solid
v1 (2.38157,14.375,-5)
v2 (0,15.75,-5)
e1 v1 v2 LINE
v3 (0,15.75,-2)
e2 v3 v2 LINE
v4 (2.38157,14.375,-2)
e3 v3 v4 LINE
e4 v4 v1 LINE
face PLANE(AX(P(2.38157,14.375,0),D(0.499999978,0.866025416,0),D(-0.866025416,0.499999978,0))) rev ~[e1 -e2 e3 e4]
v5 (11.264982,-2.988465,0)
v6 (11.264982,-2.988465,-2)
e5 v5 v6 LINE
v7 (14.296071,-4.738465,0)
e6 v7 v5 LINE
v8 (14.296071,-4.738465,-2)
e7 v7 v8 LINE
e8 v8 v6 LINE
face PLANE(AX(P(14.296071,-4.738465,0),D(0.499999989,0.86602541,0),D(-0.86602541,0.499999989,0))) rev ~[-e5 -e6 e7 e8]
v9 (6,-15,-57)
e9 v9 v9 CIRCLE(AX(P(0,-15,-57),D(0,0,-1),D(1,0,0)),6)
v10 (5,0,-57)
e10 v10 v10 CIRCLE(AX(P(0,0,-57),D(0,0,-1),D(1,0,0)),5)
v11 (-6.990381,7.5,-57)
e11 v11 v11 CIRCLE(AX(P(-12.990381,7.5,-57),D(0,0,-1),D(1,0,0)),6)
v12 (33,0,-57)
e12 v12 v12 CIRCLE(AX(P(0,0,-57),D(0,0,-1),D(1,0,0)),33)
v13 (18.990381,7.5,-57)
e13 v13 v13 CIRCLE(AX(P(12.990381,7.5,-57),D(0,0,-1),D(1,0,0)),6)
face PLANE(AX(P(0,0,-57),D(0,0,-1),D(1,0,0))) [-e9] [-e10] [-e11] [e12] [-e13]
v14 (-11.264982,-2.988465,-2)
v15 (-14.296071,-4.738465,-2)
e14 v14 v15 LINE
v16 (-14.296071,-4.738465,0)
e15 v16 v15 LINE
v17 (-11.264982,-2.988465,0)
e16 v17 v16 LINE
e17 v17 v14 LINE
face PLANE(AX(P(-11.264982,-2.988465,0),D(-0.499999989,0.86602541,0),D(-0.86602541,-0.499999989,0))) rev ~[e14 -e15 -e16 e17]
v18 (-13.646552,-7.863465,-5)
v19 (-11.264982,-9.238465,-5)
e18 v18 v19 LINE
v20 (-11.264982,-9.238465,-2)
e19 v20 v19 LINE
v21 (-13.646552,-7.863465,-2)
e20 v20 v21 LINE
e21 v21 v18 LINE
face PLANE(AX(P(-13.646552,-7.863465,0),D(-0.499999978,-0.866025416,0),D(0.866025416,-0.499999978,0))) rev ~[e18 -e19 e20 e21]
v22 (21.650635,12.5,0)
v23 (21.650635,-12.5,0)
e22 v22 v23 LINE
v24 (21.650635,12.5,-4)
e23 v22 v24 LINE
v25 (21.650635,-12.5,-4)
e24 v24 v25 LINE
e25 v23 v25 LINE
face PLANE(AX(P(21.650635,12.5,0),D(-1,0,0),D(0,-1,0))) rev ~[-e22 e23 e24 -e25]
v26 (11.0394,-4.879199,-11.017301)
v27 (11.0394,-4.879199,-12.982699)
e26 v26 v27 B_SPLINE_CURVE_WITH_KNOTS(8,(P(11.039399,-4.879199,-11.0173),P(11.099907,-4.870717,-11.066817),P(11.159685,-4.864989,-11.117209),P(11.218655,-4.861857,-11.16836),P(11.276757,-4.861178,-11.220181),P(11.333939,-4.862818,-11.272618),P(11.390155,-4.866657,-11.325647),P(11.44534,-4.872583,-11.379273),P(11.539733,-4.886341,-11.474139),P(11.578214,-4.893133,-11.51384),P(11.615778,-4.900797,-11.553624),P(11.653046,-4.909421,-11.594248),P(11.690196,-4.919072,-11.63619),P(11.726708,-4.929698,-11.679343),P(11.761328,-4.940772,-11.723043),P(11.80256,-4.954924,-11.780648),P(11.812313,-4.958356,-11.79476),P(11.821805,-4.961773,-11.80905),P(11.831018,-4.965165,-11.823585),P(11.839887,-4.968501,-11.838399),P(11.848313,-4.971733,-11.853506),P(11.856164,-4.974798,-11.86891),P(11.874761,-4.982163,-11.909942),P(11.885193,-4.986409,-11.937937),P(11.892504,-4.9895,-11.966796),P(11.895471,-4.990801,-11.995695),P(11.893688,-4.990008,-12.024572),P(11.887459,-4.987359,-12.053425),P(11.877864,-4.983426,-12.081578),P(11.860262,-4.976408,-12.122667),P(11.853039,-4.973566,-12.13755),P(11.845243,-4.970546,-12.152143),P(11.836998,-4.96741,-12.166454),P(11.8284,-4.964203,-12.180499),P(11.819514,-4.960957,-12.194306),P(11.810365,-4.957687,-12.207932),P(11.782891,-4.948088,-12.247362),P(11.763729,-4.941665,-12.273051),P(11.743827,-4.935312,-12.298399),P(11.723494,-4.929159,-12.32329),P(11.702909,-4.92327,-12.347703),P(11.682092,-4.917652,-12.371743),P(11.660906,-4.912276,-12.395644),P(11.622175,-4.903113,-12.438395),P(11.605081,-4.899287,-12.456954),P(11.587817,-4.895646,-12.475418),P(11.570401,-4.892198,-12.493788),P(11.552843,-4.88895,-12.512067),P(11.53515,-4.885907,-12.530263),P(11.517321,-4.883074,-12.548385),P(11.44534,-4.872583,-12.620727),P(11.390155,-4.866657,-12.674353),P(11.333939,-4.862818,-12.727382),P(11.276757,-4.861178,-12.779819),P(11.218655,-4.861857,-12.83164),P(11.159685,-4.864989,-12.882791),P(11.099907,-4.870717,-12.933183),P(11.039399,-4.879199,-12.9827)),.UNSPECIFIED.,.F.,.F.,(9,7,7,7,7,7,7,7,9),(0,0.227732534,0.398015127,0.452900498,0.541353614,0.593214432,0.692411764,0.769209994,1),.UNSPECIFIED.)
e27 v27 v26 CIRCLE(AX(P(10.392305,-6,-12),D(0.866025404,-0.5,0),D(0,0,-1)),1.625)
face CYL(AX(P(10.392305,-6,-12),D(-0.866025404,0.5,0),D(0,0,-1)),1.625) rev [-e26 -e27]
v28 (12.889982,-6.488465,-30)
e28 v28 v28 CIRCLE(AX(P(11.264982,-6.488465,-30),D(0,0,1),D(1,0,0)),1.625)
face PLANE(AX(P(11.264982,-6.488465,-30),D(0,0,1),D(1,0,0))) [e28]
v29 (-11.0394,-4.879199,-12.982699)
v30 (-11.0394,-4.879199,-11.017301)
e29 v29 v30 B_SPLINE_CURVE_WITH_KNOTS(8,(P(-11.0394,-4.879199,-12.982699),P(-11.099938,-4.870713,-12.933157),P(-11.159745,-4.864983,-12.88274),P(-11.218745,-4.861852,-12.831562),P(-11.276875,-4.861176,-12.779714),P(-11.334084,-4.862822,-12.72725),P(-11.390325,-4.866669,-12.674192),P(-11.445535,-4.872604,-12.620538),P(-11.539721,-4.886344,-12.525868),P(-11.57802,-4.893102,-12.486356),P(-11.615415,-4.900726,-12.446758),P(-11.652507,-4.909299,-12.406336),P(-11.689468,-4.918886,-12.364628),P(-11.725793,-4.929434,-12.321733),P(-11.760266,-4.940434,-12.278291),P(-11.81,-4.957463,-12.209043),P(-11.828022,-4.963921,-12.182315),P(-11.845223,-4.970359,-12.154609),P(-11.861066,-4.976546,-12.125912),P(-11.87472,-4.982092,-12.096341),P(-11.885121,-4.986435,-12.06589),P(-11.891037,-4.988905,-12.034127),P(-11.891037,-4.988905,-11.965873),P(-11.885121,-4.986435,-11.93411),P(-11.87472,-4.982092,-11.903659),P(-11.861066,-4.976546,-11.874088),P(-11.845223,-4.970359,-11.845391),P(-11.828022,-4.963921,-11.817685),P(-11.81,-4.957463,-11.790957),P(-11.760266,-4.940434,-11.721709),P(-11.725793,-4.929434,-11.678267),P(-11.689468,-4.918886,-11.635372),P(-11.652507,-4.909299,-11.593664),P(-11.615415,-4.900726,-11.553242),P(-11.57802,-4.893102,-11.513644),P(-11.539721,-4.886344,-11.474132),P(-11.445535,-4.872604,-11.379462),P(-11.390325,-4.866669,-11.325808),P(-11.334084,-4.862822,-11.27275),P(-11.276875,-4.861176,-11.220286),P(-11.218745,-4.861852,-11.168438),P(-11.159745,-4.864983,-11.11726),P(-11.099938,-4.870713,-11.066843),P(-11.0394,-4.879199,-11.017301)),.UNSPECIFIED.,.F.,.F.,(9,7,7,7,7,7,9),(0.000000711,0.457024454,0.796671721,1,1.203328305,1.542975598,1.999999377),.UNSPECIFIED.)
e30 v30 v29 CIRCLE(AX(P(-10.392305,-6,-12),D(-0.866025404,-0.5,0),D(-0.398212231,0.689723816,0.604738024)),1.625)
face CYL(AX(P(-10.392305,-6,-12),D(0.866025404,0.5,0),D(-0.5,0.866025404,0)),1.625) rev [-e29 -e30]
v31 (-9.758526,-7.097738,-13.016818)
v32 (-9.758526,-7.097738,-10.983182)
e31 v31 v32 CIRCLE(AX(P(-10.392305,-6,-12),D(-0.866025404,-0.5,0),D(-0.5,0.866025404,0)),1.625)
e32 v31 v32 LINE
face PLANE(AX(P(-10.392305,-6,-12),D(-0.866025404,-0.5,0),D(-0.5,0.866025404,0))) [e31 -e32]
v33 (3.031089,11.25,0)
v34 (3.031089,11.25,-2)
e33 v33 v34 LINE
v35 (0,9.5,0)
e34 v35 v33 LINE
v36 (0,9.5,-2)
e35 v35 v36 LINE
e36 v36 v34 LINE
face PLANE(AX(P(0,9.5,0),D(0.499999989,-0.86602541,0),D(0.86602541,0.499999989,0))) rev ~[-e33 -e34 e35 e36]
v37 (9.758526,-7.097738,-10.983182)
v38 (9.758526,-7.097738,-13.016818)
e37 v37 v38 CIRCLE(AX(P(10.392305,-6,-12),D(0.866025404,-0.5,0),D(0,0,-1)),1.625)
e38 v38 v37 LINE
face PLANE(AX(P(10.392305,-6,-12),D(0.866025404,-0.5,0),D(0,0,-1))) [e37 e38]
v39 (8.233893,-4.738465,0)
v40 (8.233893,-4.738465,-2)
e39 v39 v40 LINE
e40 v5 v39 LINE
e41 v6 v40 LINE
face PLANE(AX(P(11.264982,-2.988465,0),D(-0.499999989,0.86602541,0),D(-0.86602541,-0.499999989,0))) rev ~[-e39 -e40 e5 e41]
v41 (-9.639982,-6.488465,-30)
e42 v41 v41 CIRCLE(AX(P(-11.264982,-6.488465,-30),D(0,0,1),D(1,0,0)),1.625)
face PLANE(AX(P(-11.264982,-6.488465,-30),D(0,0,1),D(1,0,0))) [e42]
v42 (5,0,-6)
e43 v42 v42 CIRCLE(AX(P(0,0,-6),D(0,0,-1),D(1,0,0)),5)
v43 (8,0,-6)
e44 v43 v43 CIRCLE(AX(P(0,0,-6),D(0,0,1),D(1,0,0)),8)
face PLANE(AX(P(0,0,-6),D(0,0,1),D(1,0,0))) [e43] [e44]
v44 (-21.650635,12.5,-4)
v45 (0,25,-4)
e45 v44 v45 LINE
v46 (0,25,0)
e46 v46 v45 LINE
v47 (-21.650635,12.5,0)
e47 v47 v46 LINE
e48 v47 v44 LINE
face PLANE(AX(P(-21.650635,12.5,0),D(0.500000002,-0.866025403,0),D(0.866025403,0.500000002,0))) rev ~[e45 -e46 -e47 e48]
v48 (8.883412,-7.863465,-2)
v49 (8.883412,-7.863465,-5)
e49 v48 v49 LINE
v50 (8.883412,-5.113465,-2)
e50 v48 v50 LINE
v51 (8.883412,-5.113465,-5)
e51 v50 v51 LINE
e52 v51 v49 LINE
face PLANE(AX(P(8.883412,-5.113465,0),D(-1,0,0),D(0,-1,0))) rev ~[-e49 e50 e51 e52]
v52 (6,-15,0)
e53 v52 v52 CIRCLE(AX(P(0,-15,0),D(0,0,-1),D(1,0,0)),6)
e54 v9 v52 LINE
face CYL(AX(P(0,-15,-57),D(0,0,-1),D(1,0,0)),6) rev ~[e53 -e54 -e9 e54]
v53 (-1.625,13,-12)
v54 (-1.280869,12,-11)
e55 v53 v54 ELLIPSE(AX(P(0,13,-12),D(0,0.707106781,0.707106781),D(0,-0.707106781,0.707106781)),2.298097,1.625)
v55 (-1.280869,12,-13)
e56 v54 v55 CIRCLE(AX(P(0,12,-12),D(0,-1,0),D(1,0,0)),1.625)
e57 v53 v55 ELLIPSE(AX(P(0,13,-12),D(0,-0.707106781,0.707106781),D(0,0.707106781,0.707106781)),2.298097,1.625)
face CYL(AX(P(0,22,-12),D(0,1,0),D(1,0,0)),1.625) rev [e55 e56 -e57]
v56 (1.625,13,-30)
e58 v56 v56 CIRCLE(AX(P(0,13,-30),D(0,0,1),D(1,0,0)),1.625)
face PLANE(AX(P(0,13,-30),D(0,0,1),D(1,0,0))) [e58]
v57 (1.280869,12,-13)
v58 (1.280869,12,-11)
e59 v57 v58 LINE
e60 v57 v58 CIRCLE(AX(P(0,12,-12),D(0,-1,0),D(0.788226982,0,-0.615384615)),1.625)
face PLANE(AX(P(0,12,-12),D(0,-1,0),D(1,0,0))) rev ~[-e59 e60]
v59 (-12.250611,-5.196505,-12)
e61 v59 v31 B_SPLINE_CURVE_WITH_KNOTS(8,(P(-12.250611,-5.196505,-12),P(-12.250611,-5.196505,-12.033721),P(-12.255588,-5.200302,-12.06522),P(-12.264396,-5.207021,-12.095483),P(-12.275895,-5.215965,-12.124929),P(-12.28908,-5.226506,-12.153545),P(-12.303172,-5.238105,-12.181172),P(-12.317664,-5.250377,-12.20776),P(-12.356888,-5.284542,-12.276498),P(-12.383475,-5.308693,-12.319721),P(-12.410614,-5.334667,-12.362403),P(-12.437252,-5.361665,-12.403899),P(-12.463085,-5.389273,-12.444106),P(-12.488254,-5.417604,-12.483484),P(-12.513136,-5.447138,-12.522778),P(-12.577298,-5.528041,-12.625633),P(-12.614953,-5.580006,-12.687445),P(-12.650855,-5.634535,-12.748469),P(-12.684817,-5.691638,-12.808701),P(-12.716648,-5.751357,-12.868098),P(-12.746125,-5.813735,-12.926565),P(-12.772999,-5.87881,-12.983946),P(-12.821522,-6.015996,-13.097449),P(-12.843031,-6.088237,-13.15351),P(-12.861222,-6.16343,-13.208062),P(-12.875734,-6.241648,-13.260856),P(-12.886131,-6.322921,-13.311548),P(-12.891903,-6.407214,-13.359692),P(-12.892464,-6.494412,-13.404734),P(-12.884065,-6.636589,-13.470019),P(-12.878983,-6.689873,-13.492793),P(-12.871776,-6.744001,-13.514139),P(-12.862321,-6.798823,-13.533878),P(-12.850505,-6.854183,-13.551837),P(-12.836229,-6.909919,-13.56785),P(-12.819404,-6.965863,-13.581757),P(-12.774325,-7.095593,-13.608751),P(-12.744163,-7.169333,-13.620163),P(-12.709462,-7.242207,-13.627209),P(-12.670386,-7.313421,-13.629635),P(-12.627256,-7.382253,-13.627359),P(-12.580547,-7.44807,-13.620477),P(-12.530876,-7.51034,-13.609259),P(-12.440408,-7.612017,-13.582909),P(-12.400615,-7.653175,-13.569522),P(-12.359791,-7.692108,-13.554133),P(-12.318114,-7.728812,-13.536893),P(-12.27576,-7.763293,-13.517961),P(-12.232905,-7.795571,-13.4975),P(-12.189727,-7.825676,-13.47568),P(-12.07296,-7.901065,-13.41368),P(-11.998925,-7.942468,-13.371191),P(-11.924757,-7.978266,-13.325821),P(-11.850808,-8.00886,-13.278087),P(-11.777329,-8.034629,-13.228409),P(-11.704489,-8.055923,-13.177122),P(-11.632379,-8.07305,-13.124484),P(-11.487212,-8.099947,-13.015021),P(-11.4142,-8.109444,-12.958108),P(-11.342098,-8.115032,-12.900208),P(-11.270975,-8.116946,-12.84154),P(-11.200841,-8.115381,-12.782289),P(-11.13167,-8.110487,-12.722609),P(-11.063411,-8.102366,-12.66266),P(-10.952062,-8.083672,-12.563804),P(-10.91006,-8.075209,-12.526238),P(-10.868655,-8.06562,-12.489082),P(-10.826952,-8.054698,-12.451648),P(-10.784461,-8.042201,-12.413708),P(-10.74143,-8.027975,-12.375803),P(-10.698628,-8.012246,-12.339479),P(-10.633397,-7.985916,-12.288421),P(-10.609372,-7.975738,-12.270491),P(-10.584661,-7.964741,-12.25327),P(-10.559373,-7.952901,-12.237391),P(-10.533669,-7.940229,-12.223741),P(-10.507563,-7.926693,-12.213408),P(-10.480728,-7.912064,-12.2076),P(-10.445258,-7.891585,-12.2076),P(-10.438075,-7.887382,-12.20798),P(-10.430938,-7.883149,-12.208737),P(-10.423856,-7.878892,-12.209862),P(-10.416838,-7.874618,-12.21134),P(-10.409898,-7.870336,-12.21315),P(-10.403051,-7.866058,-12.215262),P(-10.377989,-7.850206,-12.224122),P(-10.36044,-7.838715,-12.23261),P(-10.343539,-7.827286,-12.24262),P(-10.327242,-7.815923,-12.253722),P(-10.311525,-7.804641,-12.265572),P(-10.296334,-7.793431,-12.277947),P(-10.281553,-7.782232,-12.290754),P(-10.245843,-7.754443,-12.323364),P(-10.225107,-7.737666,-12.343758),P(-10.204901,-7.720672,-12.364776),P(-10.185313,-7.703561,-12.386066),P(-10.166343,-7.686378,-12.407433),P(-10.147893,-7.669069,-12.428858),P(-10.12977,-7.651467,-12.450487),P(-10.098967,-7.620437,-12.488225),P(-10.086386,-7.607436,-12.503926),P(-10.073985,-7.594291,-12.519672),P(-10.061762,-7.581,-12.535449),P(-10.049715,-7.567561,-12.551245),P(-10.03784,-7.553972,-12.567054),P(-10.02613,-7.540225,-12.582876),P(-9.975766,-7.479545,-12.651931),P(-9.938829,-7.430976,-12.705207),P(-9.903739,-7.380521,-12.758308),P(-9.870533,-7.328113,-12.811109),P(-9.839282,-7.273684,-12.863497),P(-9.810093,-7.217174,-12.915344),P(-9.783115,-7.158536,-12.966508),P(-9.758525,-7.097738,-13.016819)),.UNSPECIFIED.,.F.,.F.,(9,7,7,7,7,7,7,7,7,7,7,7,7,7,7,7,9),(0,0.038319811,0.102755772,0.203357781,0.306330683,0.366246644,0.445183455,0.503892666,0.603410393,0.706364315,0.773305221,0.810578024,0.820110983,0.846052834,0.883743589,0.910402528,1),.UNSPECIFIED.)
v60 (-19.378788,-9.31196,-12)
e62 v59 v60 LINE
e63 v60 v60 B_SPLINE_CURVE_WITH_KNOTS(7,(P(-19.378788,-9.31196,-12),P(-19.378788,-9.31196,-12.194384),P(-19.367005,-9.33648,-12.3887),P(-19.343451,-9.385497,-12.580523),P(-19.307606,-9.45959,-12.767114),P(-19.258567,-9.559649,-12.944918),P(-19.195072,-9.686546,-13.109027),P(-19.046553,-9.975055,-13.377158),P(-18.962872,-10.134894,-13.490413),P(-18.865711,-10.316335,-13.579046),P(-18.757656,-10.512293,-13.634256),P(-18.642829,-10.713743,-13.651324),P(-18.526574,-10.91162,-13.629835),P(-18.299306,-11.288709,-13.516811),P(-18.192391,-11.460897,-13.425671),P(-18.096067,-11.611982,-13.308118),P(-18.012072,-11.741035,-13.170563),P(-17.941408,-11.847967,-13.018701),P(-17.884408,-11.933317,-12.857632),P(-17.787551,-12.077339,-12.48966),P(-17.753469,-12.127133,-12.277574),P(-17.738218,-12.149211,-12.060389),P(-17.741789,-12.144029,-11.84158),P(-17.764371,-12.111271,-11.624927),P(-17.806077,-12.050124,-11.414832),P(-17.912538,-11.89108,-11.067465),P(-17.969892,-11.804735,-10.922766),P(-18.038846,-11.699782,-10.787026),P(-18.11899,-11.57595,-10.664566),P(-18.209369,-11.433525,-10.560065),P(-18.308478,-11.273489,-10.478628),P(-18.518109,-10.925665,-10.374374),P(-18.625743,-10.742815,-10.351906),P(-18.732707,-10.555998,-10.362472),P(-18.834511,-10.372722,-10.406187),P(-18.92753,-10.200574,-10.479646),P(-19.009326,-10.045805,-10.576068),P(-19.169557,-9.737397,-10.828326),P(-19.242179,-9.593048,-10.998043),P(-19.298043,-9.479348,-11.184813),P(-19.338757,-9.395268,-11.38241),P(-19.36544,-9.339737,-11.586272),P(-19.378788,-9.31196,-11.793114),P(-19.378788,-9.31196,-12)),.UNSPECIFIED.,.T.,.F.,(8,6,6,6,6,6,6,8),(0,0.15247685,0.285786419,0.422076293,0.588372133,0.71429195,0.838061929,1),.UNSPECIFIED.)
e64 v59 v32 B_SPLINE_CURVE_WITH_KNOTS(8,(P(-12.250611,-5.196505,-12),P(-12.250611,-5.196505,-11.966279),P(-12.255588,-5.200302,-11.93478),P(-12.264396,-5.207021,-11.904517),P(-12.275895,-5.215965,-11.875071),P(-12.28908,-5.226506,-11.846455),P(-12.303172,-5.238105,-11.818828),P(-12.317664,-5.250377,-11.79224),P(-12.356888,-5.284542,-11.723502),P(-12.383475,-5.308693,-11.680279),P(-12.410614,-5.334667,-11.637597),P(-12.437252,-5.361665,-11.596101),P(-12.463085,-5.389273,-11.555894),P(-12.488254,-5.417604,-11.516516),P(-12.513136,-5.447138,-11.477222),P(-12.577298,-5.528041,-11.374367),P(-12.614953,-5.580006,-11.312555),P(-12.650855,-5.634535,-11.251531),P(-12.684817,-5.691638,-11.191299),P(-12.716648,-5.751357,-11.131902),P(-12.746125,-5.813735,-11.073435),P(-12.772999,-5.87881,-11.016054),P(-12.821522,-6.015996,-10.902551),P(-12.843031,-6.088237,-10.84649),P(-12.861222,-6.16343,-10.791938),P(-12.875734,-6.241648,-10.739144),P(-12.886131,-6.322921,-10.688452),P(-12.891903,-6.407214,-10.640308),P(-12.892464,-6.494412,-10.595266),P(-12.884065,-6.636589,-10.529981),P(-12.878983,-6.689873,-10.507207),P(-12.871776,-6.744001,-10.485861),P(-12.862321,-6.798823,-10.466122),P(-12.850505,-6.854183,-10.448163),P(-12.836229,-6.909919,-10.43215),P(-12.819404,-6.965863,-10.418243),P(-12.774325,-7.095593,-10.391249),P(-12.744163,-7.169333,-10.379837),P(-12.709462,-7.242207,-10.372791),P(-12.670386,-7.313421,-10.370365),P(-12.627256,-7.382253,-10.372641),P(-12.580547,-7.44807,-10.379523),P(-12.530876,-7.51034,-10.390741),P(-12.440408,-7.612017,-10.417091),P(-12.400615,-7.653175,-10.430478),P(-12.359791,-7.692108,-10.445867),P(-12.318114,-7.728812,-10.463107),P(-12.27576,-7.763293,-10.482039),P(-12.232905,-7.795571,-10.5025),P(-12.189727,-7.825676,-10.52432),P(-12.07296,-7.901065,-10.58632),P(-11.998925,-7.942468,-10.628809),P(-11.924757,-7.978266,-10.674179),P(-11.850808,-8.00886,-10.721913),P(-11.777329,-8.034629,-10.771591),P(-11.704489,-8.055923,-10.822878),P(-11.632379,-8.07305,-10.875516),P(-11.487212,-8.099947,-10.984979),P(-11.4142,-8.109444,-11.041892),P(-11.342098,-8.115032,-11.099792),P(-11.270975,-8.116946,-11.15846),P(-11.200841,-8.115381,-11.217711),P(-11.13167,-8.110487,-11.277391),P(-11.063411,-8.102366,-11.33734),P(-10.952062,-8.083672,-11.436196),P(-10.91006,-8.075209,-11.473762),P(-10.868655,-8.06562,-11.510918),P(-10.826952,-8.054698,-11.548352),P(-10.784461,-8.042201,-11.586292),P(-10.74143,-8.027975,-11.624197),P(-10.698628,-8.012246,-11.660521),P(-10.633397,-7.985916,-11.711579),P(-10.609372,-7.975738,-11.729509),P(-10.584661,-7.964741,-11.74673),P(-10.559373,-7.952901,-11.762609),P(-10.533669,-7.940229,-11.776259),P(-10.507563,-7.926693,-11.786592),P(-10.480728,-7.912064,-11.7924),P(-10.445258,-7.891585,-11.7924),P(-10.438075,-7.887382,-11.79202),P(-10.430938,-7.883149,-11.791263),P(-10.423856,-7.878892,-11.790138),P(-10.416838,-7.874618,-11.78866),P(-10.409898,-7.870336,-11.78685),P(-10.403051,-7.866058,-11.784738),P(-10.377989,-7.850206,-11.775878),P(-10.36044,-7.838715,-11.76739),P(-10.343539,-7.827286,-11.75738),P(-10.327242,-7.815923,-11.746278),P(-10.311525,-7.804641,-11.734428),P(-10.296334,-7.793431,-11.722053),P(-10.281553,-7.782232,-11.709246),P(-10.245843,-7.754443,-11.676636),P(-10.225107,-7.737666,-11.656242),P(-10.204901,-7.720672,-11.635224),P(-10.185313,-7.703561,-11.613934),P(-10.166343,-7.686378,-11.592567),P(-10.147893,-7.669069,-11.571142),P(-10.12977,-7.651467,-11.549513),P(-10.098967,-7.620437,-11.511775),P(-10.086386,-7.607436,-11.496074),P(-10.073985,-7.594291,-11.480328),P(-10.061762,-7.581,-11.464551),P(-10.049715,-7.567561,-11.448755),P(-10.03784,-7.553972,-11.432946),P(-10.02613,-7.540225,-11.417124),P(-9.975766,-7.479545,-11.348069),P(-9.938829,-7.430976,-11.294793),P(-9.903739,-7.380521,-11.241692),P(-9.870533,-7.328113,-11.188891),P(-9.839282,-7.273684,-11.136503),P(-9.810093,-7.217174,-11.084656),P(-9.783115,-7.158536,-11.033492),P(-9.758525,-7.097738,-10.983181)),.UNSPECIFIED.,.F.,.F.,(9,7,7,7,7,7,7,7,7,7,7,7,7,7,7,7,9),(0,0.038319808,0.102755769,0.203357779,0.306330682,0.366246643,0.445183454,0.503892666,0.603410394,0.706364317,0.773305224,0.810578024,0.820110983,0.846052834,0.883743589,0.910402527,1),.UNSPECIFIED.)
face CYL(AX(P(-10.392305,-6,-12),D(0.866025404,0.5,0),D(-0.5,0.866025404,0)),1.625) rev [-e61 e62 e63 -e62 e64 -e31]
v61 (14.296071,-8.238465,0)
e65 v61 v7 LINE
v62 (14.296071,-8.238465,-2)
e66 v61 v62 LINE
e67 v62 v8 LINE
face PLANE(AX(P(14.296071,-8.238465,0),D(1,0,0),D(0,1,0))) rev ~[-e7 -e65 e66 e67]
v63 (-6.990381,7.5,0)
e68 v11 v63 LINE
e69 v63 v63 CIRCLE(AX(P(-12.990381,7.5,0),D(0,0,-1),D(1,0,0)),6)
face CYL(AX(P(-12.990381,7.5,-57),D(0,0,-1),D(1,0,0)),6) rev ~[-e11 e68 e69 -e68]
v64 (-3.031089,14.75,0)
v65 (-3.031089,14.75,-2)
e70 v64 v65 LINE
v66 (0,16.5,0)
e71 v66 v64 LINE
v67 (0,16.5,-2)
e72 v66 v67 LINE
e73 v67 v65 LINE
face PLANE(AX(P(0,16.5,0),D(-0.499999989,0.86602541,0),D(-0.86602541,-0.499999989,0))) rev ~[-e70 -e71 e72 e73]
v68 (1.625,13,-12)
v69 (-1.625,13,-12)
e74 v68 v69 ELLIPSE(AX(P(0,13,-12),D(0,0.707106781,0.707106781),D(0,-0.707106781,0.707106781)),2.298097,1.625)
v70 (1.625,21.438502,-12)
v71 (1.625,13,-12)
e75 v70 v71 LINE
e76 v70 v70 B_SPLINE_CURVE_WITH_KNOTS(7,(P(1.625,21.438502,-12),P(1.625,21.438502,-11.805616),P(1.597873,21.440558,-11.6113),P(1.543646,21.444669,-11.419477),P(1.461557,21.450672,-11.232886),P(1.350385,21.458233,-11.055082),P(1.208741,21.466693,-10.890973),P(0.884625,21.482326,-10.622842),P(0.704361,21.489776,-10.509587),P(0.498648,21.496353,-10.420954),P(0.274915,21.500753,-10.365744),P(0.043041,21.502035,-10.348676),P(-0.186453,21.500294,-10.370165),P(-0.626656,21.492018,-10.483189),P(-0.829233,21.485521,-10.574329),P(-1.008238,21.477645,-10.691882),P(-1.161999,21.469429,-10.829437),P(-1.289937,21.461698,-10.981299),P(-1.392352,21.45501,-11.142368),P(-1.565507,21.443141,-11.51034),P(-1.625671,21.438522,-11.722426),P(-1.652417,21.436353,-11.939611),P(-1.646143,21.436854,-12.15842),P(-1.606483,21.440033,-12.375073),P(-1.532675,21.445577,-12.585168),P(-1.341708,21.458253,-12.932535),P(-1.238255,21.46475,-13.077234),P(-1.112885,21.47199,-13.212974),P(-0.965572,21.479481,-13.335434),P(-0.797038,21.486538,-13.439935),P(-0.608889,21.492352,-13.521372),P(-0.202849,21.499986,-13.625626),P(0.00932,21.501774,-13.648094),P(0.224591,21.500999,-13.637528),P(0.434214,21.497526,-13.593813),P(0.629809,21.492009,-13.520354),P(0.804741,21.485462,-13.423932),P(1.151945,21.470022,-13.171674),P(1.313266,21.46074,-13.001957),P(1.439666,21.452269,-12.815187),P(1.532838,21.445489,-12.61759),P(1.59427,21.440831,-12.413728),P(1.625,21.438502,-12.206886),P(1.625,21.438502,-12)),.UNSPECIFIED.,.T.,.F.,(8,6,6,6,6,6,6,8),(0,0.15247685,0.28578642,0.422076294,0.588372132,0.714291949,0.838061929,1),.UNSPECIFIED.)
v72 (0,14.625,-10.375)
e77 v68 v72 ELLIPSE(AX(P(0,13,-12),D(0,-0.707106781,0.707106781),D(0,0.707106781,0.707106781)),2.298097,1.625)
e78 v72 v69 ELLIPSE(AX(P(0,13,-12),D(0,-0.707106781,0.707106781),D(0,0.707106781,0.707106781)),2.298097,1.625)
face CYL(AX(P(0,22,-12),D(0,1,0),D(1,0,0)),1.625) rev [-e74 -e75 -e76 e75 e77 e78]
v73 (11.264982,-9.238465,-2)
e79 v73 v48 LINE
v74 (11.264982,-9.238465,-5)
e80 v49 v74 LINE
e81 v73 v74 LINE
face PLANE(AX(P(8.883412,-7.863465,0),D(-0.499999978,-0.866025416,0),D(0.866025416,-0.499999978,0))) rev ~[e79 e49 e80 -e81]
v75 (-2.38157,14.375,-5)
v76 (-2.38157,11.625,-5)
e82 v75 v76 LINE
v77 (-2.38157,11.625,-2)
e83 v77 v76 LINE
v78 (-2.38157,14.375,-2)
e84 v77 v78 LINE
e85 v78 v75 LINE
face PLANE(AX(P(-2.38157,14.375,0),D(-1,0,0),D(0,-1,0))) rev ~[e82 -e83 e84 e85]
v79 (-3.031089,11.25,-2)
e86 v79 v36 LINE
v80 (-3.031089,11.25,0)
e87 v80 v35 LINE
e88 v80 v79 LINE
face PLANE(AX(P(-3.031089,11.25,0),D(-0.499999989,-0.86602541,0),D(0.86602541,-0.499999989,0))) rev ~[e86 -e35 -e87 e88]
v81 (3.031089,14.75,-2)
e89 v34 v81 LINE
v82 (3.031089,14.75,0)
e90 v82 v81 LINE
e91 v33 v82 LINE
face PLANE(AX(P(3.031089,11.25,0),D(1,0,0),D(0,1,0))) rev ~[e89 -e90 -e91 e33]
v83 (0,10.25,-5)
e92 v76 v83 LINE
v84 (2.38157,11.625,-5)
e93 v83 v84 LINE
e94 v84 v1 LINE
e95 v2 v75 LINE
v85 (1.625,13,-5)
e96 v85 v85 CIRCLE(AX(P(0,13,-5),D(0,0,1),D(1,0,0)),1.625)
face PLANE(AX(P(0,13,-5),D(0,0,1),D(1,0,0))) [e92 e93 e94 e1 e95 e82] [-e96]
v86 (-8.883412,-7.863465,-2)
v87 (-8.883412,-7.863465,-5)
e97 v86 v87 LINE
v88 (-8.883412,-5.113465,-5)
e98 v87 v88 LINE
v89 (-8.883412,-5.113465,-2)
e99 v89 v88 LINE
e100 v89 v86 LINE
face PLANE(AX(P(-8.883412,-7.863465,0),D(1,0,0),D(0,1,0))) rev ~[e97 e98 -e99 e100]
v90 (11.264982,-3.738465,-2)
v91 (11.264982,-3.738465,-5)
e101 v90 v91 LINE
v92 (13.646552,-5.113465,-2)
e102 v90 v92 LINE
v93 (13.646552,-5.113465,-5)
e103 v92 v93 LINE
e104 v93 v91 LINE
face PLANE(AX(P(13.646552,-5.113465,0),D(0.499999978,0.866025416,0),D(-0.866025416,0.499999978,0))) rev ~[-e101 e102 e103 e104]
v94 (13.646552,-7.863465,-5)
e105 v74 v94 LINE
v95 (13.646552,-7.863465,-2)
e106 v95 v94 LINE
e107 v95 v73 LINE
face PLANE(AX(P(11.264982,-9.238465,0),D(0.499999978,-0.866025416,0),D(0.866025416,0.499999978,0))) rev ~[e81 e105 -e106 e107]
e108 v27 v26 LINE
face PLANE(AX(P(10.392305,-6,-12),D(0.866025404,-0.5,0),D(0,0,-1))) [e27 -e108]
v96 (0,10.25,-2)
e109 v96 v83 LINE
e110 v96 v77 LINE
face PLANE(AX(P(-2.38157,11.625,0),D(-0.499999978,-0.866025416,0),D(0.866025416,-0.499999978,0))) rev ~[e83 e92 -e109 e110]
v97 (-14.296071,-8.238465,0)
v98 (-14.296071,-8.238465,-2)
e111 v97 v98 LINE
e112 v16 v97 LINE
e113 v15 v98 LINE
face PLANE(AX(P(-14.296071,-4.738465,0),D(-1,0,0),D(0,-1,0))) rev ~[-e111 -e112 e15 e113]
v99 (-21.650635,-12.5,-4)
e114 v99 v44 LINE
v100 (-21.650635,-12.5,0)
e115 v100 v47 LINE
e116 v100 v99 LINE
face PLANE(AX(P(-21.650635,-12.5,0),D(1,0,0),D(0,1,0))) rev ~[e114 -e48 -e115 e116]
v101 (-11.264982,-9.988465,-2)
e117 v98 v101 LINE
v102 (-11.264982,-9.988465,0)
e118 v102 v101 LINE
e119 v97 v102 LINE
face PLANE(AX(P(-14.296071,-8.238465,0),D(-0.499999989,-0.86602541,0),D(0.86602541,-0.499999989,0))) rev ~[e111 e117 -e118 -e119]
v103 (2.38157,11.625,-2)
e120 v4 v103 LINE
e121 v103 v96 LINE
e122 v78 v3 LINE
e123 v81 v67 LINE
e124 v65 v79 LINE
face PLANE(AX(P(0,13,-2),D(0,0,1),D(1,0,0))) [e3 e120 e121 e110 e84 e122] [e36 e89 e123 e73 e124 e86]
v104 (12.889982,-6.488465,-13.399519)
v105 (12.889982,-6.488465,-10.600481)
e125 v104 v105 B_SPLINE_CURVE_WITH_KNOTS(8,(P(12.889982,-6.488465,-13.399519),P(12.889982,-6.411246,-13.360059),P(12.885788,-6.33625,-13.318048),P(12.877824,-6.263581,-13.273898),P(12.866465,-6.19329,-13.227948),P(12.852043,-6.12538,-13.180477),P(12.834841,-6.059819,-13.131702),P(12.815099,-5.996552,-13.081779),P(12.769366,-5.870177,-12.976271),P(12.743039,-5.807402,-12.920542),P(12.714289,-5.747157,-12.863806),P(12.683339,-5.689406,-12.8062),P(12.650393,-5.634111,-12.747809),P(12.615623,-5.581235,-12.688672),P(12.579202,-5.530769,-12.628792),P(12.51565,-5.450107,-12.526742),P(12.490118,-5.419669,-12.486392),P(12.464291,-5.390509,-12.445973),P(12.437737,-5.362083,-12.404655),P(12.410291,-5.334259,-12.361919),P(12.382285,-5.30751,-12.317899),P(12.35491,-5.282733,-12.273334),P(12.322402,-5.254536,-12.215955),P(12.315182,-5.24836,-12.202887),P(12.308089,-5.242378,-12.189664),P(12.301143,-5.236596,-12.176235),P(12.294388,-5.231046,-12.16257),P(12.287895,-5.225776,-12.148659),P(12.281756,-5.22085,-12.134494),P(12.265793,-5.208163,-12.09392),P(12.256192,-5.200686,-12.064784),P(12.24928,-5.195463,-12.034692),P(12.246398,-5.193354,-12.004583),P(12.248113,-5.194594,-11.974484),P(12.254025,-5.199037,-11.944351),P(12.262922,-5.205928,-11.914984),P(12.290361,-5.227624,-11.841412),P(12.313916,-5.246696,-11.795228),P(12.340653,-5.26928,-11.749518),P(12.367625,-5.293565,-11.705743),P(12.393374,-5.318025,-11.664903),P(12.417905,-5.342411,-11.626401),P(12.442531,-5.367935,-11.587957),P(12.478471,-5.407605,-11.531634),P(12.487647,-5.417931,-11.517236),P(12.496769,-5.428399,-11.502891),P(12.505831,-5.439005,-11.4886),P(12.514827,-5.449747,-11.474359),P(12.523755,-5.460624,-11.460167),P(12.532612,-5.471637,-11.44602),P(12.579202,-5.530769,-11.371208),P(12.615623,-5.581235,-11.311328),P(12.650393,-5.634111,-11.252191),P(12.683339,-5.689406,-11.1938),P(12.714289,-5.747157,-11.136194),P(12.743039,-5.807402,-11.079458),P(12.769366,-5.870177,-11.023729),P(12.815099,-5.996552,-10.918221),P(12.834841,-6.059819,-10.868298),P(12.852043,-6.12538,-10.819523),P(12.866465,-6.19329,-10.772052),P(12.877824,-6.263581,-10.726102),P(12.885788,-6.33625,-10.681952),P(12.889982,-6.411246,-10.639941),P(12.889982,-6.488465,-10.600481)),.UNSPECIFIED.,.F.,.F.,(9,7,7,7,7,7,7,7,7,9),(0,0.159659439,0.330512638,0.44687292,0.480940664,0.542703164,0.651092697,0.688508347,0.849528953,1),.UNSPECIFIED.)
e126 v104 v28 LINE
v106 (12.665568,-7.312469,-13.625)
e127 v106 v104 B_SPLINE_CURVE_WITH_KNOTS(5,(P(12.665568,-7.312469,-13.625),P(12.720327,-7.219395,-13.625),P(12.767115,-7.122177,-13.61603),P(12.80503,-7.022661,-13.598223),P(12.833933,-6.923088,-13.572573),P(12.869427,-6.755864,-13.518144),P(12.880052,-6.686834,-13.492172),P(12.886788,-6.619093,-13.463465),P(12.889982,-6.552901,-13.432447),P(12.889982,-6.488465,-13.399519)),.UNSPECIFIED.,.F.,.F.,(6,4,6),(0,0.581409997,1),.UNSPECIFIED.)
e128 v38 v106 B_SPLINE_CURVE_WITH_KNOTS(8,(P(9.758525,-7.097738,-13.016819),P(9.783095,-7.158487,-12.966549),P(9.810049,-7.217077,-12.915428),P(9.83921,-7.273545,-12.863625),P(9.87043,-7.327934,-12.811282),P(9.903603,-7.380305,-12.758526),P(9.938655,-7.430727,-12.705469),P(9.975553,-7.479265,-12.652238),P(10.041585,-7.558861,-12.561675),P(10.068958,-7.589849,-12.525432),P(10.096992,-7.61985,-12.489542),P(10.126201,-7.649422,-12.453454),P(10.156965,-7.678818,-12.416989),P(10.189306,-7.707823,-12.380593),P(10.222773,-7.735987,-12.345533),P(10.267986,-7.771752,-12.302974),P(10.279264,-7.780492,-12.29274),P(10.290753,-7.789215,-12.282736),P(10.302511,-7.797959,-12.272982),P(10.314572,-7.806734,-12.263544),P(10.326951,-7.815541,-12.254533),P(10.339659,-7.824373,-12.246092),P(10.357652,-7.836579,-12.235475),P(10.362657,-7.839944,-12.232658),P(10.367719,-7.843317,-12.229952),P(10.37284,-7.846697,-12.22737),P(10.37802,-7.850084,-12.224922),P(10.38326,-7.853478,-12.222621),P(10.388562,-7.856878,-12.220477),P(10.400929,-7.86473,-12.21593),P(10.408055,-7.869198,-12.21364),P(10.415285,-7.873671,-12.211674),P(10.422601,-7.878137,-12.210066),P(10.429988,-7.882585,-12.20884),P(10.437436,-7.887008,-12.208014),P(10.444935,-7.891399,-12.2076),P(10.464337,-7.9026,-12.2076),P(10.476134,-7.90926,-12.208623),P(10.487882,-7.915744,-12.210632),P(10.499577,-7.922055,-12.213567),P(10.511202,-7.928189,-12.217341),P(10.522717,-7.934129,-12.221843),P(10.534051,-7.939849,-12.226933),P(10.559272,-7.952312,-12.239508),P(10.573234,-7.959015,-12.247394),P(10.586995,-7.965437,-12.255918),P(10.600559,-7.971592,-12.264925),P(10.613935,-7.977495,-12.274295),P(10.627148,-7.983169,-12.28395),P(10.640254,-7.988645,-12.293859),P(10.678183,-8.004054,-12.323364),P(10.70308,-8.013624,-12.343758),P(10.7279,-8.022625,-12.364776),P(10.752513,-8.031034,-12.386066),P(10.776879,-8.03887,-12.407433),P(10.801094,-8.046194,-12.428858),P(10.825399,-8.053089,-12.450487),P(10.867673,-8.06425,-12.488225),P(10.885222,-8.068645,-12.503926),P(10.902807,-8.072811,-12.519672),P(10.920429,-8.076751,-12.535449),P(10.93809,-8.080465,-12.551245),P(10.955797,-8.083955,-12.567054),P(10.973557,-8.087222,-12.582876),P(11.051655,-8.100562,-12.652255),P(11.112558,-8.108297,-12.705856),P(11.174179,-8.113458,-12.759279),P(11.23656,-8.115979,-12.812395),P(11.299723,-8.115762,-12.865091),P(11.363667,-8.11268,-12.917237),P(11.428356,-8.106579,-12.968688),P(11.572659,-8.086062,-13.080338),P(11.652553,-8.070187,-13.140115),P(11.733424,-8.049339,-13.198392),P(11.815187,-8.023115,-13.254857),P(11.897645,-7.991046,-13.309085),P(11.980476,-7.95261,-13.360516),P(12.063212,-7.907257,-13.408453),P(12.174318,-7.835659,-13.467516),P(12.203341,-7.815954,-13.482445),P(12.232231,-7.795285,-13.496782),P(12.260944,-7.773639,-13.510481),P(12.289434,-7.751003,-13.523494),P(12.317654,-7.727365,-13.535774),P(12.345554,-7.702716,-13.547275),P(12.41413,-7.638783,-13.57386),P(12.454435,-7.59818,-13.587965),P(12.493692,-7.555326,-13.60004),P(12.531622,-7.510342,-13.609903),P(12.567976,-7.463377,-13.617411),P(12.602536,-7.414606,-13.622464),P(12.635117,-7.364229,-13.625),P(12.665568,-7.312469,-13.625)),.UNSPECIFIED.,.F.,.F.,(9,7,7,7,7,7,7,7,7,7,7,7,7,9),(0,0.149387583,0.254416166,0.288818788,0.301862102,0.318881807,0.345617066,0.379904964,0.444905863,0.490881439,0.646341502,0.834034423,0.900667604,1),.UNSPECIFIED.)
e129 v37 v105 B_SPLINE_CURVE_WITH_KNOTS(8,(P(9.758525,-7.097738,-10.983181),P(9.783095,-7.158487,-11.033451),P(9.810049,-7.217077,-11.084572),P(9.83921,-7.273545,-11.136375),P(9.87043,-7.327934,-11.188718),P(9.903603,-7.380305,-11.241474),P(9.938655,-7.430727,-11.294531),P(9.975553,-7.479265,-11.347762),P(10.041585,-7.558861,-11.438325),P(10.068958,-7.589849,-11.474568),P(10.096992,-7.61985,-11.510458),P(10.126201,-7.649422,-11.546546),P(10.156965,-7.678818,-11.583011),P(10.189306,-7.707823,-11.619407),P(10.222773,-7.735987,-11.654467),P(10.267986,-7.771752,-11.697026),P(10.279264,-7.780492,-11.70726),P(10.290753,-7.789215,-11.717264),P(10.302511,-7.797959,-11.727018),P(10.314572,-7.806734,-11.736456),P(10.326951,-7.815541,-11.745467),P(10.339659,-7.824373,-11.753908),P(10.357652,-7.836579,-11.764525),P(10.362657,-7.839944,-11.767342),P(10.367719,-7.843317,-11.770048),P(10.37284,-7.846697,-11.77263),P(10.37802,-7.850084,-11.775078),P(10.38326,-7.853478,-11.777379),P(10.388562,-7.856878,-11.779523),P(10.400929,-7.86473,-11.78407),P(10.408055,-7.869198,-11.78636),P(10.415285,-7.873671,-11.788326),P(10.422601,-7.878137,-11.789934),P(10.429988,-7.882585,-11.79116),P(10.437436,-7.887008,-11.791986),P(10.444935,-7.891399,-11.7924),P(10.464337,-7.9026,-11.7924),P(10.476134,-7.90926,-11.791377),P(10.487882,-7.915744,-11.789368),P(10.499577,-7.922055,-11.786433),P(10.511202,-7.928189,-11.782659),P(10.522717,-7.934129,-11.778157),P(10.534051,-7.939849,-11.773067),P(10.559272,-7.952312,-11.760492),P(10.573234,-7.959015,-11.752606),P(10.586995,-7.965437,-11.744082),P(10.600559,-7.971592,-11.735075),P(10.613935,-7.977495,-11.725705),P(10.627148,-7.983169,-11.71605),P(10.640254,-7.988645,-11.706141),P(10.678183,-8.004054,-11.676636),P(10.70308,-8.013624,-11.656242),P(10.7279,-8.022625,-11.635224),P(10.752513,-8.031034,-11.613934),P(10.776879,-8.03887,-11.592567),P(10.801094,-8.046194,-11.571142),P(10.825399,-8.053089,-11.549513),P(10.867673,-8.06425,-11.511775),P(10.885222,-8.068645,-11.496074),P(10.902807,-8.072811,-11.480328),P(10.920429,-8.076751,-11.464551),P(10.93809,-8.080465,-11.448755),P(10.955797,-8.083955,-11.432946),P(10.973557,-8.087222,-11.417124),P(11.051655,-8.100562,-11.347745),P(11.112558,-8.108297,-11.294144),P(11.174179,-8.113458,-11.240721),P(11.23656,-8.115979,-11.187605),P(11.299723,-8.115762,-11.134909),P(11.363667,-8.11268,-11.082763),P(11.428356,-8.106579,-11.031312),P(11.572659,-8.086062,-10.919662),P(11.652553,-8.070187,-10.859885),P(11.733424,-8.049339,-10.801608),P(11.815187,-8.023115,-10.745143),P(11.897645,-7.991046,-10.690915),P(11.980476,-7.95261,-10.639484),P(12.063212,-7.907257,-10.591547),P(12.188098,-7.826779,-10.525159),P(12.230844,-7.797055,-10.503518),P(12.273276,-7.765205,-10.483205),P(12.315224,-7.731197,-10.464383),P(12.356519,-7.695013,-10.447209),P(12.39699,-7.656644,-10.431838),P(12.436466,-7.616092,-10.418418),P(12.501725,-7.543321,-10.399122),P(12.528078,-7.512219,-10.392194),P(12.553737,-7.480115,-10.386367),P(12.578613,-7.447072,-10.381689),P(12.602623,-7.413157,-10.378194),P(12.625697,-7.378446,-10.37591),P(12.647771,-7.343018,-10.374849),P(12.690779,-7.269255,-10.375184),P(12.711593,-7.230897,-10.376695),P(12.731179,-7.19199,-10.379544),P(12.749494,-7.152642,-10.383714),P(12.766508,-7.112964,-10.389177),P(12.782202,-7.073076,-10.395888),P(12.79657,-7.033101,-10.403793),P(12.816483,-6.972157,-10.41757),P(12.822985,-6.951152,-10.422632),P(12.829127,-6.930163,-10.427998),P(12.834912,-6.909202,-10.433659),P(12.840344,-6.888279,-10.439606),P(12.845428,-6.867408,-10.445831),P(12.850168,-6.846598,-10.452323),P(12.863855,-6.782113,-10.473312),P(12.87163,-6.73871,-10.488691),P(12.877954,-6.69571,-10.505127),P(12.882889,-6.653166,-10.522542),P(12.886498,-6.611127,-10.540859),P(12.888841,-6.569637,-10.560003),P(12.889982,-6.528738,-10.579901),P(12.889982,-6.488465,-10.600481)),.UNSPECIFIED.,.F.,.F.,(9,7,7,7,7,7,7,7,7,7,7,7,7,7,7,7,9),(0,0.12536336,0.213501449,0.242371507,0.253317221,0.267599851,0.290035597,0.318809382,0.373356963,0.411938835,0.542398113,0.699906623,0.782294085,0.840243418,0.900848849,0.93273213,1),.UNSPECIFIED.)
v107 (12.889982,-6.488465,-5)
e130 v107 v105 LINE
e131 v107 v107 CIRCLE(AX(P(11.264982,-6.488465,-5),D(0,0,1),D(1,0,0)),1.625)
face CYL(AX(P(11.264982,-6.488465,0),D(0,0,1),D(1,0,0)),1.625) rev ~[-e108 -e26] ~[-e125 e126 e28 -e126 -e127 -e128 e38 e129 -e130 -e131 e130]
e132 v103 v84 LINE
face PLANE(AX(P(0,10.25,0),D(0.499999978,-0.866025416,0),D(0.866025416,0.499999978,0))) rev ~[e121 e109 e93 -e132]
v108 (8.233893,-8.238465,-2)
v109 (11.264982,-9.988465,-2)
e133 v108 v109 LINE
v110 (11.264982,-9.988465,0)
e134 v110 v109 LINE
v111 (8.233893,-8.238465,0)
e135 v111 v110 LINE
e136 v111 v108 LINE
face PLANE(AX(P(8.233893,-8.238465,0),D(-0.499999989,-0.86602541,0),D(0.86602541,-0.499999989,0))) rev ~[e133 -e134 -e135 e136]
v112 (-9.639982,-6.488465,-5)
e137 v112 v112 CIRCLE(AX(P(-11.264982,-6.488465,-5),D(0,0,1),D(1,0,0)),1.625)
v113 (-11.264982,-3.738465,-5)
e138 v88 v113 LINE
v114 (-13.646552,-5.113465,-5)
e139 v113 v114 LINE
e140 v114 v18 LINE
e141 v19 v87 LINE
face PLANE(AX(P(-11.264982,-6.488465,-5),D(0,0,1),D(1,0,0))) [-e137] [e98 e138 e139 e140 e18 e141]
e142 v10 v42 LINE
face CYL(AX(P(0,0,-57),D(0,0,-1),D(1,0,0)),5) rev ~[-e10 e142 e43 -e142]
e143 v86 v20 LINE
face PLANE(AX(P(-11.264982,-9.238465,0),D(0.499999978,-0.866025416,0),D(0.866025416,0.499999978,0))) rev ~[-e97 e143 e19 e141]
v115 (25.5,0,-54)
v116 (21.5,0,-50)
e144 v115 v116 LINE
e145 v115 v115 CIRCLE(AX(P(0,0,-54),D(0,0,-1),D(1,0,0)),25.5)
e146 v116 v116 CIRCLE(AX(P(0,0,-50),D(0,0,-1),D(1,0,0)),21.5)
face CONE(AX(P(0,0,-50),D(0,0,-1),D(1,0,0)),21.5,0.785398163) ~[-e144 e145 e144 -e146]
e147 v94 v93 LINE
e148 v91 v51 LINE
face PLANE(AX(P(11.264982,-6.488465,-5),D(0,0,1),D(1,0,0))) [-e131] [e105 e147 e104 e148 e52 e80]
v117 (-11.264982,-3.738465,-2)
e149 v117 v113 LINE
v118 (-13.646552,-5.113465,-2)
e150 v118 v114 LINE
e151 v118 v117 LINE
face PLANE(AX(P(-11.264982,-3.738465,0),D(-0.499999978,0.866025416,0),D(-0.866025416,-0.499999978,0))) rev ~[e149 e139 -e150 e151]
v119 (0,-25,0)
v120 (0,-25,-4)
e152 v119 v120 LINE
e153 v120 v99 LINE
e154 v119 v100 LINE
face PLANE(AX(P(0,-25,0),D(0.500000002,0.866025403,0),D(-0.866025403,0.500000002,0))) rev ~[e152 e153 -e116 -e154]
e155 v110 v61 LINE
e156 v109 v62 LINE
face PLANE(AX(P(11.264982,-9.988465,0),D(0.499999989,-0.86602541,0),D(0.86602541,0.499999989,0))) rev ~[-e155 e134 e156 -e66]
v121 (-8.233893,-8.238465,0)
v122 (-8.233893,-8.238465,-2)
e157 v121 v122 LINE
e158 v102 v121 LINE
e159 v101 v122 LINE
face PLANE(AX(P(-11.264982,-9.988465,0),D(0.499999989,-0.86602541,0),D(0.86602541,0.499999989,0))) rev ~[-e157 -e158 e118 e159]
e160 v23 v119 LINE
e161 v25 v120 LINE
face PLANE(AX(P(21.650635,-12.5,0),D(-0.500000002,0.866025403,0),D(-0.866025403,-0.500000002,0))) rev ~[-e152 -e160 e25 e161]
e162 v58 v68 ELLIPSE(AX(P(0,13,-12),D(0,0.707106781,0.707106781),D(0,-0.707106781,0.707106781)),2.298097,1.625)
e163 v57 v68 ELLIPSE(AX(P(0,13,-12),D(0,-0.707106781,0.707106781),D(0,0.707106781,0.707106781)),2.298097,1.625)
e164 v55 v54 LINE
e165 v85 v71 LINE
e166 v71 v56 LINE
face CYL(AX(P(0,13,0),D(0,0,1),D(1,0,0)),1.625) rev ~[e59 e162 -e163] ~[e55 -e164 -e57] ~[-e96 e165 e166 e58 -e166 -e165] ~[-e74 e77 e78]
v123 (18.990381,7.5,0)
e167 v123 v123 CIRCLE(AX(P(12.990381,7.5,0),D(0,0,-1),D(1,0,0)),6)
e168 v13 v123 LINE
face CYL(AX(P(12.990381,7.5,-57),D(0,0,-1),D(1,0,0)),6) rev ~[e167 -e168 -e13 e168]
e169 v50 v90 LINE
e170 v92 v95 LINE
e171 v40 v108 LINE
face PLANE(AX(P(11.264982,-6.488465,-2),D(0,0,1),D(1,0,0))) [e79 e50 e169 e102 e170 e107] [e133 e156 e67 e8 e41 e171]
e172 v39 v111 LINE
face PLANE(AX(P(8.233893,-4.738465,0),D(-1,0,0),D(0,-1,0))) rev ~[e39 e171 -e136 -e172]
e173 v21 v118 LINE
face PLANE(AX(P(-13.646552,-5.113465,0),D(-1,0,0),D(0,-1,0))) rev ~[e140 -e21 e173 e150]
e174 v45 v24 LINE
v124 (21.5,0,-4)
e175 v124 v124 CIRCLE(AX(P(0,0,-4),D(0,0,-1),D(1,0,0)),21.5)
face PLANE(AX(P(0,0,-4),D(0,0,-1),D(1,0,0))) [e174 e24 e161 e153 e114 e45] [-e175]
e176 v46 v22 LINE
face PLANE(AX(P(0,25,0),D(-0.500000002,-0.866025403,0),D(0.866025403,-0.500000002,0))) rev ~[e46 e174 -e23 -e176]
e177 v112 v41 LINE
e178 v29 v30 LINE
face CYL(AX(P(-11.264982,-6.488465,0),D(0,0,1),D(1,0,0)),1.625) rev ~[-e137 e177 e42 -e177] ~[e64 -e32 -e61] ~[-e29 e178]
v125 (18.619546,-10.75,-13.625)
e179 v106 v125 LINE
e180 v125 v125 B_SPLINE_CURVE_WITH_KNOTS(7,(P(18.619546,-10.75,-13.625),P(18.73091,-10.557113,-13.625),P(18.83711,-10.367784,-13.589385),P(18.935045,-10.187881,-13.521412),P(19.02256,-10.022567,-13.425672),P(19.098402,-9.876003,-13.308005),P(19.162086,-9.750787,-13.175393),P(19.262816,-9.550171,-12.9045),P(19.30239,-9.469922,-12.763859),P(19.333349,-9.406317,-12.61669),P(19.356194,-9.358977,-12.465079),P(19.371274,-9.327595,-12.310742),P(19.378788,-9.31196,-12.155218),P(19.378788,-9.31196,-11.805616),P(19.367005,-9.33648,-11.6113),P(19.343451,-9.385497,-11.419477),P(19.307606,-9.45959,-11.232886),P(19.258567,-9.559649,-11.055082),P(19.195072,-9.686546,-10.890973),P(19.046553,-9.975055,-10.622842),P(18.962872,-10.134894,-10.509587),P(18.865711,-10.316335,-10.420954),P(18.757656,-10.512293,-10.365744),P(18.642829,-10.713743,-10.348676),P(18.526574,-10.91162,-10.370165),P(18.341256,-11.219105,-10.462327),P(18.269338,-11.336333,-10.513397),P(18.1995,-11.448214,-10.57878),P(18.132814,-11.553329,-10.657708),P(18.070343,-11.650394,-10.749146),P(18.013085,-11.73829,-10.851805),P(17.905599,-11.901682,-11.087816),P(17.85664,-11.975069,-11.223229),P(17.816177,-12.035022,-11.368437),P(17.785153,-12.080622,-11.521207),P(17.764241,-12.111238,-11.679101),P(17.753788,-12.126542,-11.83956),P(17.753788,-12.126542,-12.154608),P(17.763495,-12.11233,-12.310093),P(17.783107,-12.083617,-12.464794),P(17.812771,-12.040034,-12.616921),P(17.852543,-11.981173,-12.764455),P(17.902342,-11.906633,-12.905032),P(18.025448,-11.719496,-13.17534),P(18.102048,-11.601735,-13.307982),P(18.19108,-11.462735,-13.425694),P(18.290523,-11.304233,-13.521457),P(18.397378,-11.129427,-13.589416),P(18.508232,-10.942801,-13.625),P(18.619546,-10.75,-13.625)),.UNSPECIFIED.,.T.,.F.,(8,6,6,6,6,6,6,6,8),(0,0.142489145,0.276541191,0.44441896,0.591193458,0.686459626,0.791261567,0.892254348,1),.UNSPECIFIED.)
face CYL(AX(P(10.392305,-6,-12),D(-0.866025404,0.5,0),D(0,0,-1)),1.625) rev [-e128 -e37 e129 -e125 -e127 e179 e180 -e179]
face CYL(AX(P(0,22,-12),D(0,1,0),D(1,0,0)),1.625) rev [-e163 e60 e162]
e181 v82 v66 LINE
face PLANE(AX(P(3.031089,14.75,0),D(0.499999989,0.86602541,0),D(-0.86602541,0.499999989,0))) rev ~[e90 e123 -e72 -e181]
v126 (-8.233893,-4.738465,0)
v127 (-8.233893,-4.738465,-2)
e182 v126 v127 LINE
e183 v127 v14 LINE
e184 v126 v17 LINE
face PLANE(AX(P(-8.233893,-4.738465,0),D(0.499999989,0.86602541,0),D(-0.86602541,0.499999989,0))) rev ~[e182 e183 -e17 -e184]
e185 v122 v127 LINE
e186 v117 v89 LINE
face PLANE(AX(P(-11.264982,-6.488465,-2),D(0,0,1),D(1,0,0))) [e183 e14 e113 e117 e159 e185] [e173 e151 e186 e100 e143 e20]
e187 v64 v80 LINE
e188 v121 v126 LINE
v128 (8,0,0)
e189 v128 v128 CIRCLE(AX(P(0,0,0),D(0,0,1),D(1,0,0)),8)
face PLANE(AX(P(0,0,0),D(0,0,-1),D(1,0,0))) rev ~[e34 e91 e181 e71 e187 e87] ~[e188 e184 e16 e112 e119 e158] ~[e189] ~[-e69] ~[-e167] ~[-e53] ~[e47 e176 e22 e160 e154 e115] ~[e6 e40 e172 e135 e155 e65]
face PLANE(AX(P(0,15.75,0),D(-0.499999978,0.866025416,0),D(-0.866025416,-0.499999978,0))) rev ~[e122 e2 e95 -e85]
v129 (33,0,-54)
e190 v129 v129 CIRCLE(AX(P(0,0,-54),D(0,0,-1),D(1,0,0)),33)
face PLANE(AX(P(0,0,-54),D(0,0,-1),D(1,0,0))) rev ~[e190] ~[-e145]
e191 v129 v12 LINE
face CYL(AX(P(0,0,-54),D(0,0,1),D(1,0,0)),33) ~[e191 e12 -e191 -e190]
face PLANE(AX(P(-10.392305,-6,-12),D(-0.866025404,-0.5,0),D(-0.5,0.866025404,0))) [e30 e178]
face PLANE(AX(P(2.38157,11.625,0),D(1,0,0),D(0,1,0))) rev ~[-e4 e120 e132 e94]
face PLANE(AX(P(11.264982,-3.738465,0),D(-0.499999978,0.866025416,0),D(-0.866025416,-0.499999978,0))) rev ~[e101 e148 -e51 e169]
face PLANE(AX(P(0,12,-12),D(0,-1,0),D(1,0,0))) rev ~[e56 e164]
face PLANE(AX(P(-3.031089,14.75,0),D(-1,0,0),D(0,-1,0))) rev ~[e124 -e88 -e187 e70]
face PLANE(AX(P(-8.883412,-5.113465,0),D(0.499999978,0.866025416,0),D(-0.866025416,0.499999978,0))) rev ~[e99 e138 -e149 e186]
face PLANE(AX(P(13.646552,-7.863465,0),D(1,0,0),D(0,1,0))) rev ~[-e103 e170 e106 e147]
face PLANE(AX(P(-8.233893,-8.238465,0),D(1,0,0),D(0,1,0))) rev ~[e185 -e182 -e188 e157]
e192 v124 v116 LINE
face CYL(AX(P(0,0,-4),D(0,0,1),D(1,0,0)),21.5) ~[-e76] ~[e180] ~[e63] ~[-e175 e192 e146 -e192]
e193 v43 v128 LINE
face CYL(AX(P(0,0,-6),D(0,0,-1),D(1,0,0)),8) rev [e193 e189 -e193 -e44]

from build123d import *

# Parameters (mm, degrees)
CYLINDER003_R               = 8
CYLINDER003_DEPTH           = 6
CYLINDER002_R               = 1.625
CYLINDER002_DEPTH           = 10
CYLINDER002_ROLL_ANGLE      = -90
CYLINDER002_PLACEMENT_ANGLE = 120
CYLINDER001_R               = 1.625
CYLINDER001_DEPTH           = 10
CYLINDER001_PITCH_ANGLE     = 90
CYLINDER001_PLACEMENT_ANGLE = -30
CYLINDER_R                  = 1.625
CYLINDER_DEPTH              = 10
PAD_DEPTH                   = 4
SKETCH001_R                 = 21.5
PAD001_DEPTH                = 50
SKETCH002_R                 = 33
PAD002_DEPTH                = 3
SKETCH003_R                 = 5
POCKET_DEPTH                = 57.001
SKETCH004_R                 = 6
POCKET001_DEPTH             = 57.001
SKETCH005_R                 = 1.625
POCKET002_DEPTH             = 30
POCKET003_DEPTH             = 5
POCKET004_DEPTH             = 2
BODY_PLACEMENT_ANGLE        = 180
CHAMFER_SIZE                = 4


with BuildPart() as bearing_cut:
    # Cylinder003 → Cylinder003 (new body)
    with BuildSketch(Plane.XY.offset(-6)):
        Circle(CYLINDER003_R)
    extrude(amount=CYLINDER003_DEPTH)


with BuildPart() as cylinder002:
    # Cylinder002 → Cylinder002 (new body)
    with BuildSketch(Plane.XY):
        Circle(CYLINDER002_R)
    extrude(amount=CYLINDER002_DEPTH)


with BuildPart() as cylinder002_1:
    # Cylinder002 roll: moved
    add(cylinder002.part.rotate(Axis((0, 0, 0), (1, 0, 0)), CYLINDER002_ROLL_ANGLE))


with BuildPart() as cylinder002_2:
    # Cylinder002 placement: moved
    add(cylinder002_1.part.moved(Location((-10.392305, -6, -12))).rotate(Axis((-10.392305, -6, -12), (0, 0, 1)), CYLINDER002_PLACEMENT_ANGLE))


with BuildPart() as cylinder001:
    # Cylinder001 → Cylinder001 (new body)
    with BuildSketch(Plane.XY):
        Circle(CYLINDER001_R)
    extrude(amount=CYLINDER001_DEPTH)


with BuildPart() as cylinder001_1:
    # Cylinder001 pitch: moved
    add(cylinder001.part.rotate(Axis((0, 0, 0), (0, 1, 0)), CYLINDER001_PITCH_ANGLE))


with BuildPart() as cylinder001_2:
    # Cylinder001 placement: moved
    add(cylinder001_1.part.moved(Location((10.392305, -6, -12))).rotate(Axis((10.392305, -6, -12), (0, 0, 1)), CYLINDER001_PLACEMENT_ANGLE))


with BuildPart() as cylinder:
    # Cylinder → Cylinder (new body)
    with BuildSketch(Plane(origin=(0, 22, -12), x_dir=(1, 0, 0), z_dir=(0, -1, 0))):
        Circle(CYLINDER_R)
    extrude(amount=CYLINDER_DEPTH)


with BuildPart() as reinforced:
    # Sketch → Pad (new body)
    with BuildSketch(Plane.XY):
        Polygon((0, 25), (-21.650635, 12.5), (-21.650635, -12.5), (0, -25), (21.650635, -12.5), (21.650635, 12.5), align=None)
    extrude(amount=PAD_DEPTH)

    # Sketch001 (on Face8 of Pad) → Pad001 (join)
    with BuildSketch(Plane.XY.offset(4)):
        Circle(SKETCH001_R)
    extrude(amount=PAD001_DEPTH)

    # Sketch002 (on Face10 of Pad001) → Pad002 (join)
    with BuildSketch(Plane.XY.offset(54)):
        Circle(SKETCH002_R)
    extrude(amount=PAD002_DEPTH)

    # Sketch003 (on Face3 of Pad002) → Pocket (cut, through all)
    with BuildSketch(Plane.XY.offset(57)):
        Circle(SKETCH003_R)
    extrude(amount=-POCKET_DEPTH, mode=Mode.SUBTRACT)

    # Sketch004 (on Face3 of Pocket) → Pocket001 (cut, through all)
    with BuildSketch(Plane.XY.offset(57)):
        with Locations((12.990381, -7.5)):
            Circle(SKETCH004_R)
        with Locations((-12.990381, -7.5)):
            Circle(SKETCH004_R)
        with Locations((0, 15)):
            Circle(SKETCH004_R)
    extrude(amount=-POCKET001_DEPTH, mode=Mode.SUBTRACT)

    # Sketch005 (on Face10 of Pocket001) → Pocket002 (cut)
    with BuildSketch(Plane(origin=(0, 0, 0), x_dir=(1, 0, 0), z_dir=(0, 0, -1))):
        with Locations((0, 13)):
            Circle(SKETCH005_R)
        with Locations((11.264982, -6.488465)):
            Circle(SKETCH005_R)
        with Locations((-11.264982, -6.488465)):
            Circle(SKETCH005_R)
    extrude(amount=-POCKET002_DEPTH, mode=Mode.SUBTRACT)

    # Sketch006 (on Face10 of Pocket002) → Pocket003 (cut)
    with BuildSketch(Plane(origin=(0, 0, 0), x_dir=(1, 0, 0), z_dir=(0, 0, -1))):
        Polygon((13.646552, -7.863465), (13.646552, -5.113465), (11.264982, -3.738465), (8.883412, -5.113465), (8.883412, -7.863465), (11.264982, -9.238465), align=None)
        Polygon((-8.883412, -5.113465), (-11.264982, -3.738465), (-13.646552, -5.113465), (-13.646552, -7.863465), (-11.264982, -9.238465), (-8.883412, -7.863465), align=None)
        Polygon((2.38157, 14.375), (0, 15.75), (-2.38157, 14.375), (-2.38157, 11.625), (0, 10.25), (2.38157, 11.625), align=None)
    extrude(amount=-POCKET003_DEPTH, mode=Mode.SUBTRACT)

    # Sketch007 (on Face10 of Pocket003) → Pocket004 (cut)
    with BuildSketch(Plane(origin=(0, 0, 0), x_dir=(1, 0, 0), z_dir=(0, 0, -1))):
        Polygon((3.031089, 11.25), (3.031089, 14.75), (0, 16.5), (-3.031089, 14.75), (-3.031089, 11.25), (0, 9.5), align=None)
        Polygon((14.296071, -8.238465), (14.296071, -4.738465), (11.264982, -2.988465), (8.233893, -4.738465), (8.233893, -8.238465), (11.264982, -9.988465), align=None)
        Polygon((-8.233893, -8.238465), (-8.233893, -4.738465), (-11.264982, -2.988465), (-14.296071, -4.738465), (-14.296071, -8.238465), (-11.264982, -9.988465), align=None)
    extrude(amount=-POCKET004_DEPTH, mode=Mode.SUBTRACT)


with BuildPart() as reinforced_1:
    # Body placement: moved
    add(reinforced.part.rotate(Axis((0, 0, 0), (1, 0, 0)), BODY_PLACEMENT_ANGLE))

    # Cut: cut Cylinder
    add(cylinder.part, mode=Mode.SUBTRACT)

    # Cut001: cut Cylinder001
    add(cylinder001_2.part, mode=Mode.SUBTRACT)

    # Cut002: cut Cylinder002
    add(cylinder002_2.part, mode=Mode.SUBTRACT)

    # Cut003: cut Bearing cut
    add(bearing_cut.part, mode=Mode.SUBTRACT)

    # Chamfer
    chamfer_edges = [reinforced_1.edges().sort_by_distance(p)[0] for p in [
        (-21.5, 0, -54),
    ]]
    chamfer(chamfer_edges, length=CHAMFER_SIZE)


solid = reinforced_1.part
